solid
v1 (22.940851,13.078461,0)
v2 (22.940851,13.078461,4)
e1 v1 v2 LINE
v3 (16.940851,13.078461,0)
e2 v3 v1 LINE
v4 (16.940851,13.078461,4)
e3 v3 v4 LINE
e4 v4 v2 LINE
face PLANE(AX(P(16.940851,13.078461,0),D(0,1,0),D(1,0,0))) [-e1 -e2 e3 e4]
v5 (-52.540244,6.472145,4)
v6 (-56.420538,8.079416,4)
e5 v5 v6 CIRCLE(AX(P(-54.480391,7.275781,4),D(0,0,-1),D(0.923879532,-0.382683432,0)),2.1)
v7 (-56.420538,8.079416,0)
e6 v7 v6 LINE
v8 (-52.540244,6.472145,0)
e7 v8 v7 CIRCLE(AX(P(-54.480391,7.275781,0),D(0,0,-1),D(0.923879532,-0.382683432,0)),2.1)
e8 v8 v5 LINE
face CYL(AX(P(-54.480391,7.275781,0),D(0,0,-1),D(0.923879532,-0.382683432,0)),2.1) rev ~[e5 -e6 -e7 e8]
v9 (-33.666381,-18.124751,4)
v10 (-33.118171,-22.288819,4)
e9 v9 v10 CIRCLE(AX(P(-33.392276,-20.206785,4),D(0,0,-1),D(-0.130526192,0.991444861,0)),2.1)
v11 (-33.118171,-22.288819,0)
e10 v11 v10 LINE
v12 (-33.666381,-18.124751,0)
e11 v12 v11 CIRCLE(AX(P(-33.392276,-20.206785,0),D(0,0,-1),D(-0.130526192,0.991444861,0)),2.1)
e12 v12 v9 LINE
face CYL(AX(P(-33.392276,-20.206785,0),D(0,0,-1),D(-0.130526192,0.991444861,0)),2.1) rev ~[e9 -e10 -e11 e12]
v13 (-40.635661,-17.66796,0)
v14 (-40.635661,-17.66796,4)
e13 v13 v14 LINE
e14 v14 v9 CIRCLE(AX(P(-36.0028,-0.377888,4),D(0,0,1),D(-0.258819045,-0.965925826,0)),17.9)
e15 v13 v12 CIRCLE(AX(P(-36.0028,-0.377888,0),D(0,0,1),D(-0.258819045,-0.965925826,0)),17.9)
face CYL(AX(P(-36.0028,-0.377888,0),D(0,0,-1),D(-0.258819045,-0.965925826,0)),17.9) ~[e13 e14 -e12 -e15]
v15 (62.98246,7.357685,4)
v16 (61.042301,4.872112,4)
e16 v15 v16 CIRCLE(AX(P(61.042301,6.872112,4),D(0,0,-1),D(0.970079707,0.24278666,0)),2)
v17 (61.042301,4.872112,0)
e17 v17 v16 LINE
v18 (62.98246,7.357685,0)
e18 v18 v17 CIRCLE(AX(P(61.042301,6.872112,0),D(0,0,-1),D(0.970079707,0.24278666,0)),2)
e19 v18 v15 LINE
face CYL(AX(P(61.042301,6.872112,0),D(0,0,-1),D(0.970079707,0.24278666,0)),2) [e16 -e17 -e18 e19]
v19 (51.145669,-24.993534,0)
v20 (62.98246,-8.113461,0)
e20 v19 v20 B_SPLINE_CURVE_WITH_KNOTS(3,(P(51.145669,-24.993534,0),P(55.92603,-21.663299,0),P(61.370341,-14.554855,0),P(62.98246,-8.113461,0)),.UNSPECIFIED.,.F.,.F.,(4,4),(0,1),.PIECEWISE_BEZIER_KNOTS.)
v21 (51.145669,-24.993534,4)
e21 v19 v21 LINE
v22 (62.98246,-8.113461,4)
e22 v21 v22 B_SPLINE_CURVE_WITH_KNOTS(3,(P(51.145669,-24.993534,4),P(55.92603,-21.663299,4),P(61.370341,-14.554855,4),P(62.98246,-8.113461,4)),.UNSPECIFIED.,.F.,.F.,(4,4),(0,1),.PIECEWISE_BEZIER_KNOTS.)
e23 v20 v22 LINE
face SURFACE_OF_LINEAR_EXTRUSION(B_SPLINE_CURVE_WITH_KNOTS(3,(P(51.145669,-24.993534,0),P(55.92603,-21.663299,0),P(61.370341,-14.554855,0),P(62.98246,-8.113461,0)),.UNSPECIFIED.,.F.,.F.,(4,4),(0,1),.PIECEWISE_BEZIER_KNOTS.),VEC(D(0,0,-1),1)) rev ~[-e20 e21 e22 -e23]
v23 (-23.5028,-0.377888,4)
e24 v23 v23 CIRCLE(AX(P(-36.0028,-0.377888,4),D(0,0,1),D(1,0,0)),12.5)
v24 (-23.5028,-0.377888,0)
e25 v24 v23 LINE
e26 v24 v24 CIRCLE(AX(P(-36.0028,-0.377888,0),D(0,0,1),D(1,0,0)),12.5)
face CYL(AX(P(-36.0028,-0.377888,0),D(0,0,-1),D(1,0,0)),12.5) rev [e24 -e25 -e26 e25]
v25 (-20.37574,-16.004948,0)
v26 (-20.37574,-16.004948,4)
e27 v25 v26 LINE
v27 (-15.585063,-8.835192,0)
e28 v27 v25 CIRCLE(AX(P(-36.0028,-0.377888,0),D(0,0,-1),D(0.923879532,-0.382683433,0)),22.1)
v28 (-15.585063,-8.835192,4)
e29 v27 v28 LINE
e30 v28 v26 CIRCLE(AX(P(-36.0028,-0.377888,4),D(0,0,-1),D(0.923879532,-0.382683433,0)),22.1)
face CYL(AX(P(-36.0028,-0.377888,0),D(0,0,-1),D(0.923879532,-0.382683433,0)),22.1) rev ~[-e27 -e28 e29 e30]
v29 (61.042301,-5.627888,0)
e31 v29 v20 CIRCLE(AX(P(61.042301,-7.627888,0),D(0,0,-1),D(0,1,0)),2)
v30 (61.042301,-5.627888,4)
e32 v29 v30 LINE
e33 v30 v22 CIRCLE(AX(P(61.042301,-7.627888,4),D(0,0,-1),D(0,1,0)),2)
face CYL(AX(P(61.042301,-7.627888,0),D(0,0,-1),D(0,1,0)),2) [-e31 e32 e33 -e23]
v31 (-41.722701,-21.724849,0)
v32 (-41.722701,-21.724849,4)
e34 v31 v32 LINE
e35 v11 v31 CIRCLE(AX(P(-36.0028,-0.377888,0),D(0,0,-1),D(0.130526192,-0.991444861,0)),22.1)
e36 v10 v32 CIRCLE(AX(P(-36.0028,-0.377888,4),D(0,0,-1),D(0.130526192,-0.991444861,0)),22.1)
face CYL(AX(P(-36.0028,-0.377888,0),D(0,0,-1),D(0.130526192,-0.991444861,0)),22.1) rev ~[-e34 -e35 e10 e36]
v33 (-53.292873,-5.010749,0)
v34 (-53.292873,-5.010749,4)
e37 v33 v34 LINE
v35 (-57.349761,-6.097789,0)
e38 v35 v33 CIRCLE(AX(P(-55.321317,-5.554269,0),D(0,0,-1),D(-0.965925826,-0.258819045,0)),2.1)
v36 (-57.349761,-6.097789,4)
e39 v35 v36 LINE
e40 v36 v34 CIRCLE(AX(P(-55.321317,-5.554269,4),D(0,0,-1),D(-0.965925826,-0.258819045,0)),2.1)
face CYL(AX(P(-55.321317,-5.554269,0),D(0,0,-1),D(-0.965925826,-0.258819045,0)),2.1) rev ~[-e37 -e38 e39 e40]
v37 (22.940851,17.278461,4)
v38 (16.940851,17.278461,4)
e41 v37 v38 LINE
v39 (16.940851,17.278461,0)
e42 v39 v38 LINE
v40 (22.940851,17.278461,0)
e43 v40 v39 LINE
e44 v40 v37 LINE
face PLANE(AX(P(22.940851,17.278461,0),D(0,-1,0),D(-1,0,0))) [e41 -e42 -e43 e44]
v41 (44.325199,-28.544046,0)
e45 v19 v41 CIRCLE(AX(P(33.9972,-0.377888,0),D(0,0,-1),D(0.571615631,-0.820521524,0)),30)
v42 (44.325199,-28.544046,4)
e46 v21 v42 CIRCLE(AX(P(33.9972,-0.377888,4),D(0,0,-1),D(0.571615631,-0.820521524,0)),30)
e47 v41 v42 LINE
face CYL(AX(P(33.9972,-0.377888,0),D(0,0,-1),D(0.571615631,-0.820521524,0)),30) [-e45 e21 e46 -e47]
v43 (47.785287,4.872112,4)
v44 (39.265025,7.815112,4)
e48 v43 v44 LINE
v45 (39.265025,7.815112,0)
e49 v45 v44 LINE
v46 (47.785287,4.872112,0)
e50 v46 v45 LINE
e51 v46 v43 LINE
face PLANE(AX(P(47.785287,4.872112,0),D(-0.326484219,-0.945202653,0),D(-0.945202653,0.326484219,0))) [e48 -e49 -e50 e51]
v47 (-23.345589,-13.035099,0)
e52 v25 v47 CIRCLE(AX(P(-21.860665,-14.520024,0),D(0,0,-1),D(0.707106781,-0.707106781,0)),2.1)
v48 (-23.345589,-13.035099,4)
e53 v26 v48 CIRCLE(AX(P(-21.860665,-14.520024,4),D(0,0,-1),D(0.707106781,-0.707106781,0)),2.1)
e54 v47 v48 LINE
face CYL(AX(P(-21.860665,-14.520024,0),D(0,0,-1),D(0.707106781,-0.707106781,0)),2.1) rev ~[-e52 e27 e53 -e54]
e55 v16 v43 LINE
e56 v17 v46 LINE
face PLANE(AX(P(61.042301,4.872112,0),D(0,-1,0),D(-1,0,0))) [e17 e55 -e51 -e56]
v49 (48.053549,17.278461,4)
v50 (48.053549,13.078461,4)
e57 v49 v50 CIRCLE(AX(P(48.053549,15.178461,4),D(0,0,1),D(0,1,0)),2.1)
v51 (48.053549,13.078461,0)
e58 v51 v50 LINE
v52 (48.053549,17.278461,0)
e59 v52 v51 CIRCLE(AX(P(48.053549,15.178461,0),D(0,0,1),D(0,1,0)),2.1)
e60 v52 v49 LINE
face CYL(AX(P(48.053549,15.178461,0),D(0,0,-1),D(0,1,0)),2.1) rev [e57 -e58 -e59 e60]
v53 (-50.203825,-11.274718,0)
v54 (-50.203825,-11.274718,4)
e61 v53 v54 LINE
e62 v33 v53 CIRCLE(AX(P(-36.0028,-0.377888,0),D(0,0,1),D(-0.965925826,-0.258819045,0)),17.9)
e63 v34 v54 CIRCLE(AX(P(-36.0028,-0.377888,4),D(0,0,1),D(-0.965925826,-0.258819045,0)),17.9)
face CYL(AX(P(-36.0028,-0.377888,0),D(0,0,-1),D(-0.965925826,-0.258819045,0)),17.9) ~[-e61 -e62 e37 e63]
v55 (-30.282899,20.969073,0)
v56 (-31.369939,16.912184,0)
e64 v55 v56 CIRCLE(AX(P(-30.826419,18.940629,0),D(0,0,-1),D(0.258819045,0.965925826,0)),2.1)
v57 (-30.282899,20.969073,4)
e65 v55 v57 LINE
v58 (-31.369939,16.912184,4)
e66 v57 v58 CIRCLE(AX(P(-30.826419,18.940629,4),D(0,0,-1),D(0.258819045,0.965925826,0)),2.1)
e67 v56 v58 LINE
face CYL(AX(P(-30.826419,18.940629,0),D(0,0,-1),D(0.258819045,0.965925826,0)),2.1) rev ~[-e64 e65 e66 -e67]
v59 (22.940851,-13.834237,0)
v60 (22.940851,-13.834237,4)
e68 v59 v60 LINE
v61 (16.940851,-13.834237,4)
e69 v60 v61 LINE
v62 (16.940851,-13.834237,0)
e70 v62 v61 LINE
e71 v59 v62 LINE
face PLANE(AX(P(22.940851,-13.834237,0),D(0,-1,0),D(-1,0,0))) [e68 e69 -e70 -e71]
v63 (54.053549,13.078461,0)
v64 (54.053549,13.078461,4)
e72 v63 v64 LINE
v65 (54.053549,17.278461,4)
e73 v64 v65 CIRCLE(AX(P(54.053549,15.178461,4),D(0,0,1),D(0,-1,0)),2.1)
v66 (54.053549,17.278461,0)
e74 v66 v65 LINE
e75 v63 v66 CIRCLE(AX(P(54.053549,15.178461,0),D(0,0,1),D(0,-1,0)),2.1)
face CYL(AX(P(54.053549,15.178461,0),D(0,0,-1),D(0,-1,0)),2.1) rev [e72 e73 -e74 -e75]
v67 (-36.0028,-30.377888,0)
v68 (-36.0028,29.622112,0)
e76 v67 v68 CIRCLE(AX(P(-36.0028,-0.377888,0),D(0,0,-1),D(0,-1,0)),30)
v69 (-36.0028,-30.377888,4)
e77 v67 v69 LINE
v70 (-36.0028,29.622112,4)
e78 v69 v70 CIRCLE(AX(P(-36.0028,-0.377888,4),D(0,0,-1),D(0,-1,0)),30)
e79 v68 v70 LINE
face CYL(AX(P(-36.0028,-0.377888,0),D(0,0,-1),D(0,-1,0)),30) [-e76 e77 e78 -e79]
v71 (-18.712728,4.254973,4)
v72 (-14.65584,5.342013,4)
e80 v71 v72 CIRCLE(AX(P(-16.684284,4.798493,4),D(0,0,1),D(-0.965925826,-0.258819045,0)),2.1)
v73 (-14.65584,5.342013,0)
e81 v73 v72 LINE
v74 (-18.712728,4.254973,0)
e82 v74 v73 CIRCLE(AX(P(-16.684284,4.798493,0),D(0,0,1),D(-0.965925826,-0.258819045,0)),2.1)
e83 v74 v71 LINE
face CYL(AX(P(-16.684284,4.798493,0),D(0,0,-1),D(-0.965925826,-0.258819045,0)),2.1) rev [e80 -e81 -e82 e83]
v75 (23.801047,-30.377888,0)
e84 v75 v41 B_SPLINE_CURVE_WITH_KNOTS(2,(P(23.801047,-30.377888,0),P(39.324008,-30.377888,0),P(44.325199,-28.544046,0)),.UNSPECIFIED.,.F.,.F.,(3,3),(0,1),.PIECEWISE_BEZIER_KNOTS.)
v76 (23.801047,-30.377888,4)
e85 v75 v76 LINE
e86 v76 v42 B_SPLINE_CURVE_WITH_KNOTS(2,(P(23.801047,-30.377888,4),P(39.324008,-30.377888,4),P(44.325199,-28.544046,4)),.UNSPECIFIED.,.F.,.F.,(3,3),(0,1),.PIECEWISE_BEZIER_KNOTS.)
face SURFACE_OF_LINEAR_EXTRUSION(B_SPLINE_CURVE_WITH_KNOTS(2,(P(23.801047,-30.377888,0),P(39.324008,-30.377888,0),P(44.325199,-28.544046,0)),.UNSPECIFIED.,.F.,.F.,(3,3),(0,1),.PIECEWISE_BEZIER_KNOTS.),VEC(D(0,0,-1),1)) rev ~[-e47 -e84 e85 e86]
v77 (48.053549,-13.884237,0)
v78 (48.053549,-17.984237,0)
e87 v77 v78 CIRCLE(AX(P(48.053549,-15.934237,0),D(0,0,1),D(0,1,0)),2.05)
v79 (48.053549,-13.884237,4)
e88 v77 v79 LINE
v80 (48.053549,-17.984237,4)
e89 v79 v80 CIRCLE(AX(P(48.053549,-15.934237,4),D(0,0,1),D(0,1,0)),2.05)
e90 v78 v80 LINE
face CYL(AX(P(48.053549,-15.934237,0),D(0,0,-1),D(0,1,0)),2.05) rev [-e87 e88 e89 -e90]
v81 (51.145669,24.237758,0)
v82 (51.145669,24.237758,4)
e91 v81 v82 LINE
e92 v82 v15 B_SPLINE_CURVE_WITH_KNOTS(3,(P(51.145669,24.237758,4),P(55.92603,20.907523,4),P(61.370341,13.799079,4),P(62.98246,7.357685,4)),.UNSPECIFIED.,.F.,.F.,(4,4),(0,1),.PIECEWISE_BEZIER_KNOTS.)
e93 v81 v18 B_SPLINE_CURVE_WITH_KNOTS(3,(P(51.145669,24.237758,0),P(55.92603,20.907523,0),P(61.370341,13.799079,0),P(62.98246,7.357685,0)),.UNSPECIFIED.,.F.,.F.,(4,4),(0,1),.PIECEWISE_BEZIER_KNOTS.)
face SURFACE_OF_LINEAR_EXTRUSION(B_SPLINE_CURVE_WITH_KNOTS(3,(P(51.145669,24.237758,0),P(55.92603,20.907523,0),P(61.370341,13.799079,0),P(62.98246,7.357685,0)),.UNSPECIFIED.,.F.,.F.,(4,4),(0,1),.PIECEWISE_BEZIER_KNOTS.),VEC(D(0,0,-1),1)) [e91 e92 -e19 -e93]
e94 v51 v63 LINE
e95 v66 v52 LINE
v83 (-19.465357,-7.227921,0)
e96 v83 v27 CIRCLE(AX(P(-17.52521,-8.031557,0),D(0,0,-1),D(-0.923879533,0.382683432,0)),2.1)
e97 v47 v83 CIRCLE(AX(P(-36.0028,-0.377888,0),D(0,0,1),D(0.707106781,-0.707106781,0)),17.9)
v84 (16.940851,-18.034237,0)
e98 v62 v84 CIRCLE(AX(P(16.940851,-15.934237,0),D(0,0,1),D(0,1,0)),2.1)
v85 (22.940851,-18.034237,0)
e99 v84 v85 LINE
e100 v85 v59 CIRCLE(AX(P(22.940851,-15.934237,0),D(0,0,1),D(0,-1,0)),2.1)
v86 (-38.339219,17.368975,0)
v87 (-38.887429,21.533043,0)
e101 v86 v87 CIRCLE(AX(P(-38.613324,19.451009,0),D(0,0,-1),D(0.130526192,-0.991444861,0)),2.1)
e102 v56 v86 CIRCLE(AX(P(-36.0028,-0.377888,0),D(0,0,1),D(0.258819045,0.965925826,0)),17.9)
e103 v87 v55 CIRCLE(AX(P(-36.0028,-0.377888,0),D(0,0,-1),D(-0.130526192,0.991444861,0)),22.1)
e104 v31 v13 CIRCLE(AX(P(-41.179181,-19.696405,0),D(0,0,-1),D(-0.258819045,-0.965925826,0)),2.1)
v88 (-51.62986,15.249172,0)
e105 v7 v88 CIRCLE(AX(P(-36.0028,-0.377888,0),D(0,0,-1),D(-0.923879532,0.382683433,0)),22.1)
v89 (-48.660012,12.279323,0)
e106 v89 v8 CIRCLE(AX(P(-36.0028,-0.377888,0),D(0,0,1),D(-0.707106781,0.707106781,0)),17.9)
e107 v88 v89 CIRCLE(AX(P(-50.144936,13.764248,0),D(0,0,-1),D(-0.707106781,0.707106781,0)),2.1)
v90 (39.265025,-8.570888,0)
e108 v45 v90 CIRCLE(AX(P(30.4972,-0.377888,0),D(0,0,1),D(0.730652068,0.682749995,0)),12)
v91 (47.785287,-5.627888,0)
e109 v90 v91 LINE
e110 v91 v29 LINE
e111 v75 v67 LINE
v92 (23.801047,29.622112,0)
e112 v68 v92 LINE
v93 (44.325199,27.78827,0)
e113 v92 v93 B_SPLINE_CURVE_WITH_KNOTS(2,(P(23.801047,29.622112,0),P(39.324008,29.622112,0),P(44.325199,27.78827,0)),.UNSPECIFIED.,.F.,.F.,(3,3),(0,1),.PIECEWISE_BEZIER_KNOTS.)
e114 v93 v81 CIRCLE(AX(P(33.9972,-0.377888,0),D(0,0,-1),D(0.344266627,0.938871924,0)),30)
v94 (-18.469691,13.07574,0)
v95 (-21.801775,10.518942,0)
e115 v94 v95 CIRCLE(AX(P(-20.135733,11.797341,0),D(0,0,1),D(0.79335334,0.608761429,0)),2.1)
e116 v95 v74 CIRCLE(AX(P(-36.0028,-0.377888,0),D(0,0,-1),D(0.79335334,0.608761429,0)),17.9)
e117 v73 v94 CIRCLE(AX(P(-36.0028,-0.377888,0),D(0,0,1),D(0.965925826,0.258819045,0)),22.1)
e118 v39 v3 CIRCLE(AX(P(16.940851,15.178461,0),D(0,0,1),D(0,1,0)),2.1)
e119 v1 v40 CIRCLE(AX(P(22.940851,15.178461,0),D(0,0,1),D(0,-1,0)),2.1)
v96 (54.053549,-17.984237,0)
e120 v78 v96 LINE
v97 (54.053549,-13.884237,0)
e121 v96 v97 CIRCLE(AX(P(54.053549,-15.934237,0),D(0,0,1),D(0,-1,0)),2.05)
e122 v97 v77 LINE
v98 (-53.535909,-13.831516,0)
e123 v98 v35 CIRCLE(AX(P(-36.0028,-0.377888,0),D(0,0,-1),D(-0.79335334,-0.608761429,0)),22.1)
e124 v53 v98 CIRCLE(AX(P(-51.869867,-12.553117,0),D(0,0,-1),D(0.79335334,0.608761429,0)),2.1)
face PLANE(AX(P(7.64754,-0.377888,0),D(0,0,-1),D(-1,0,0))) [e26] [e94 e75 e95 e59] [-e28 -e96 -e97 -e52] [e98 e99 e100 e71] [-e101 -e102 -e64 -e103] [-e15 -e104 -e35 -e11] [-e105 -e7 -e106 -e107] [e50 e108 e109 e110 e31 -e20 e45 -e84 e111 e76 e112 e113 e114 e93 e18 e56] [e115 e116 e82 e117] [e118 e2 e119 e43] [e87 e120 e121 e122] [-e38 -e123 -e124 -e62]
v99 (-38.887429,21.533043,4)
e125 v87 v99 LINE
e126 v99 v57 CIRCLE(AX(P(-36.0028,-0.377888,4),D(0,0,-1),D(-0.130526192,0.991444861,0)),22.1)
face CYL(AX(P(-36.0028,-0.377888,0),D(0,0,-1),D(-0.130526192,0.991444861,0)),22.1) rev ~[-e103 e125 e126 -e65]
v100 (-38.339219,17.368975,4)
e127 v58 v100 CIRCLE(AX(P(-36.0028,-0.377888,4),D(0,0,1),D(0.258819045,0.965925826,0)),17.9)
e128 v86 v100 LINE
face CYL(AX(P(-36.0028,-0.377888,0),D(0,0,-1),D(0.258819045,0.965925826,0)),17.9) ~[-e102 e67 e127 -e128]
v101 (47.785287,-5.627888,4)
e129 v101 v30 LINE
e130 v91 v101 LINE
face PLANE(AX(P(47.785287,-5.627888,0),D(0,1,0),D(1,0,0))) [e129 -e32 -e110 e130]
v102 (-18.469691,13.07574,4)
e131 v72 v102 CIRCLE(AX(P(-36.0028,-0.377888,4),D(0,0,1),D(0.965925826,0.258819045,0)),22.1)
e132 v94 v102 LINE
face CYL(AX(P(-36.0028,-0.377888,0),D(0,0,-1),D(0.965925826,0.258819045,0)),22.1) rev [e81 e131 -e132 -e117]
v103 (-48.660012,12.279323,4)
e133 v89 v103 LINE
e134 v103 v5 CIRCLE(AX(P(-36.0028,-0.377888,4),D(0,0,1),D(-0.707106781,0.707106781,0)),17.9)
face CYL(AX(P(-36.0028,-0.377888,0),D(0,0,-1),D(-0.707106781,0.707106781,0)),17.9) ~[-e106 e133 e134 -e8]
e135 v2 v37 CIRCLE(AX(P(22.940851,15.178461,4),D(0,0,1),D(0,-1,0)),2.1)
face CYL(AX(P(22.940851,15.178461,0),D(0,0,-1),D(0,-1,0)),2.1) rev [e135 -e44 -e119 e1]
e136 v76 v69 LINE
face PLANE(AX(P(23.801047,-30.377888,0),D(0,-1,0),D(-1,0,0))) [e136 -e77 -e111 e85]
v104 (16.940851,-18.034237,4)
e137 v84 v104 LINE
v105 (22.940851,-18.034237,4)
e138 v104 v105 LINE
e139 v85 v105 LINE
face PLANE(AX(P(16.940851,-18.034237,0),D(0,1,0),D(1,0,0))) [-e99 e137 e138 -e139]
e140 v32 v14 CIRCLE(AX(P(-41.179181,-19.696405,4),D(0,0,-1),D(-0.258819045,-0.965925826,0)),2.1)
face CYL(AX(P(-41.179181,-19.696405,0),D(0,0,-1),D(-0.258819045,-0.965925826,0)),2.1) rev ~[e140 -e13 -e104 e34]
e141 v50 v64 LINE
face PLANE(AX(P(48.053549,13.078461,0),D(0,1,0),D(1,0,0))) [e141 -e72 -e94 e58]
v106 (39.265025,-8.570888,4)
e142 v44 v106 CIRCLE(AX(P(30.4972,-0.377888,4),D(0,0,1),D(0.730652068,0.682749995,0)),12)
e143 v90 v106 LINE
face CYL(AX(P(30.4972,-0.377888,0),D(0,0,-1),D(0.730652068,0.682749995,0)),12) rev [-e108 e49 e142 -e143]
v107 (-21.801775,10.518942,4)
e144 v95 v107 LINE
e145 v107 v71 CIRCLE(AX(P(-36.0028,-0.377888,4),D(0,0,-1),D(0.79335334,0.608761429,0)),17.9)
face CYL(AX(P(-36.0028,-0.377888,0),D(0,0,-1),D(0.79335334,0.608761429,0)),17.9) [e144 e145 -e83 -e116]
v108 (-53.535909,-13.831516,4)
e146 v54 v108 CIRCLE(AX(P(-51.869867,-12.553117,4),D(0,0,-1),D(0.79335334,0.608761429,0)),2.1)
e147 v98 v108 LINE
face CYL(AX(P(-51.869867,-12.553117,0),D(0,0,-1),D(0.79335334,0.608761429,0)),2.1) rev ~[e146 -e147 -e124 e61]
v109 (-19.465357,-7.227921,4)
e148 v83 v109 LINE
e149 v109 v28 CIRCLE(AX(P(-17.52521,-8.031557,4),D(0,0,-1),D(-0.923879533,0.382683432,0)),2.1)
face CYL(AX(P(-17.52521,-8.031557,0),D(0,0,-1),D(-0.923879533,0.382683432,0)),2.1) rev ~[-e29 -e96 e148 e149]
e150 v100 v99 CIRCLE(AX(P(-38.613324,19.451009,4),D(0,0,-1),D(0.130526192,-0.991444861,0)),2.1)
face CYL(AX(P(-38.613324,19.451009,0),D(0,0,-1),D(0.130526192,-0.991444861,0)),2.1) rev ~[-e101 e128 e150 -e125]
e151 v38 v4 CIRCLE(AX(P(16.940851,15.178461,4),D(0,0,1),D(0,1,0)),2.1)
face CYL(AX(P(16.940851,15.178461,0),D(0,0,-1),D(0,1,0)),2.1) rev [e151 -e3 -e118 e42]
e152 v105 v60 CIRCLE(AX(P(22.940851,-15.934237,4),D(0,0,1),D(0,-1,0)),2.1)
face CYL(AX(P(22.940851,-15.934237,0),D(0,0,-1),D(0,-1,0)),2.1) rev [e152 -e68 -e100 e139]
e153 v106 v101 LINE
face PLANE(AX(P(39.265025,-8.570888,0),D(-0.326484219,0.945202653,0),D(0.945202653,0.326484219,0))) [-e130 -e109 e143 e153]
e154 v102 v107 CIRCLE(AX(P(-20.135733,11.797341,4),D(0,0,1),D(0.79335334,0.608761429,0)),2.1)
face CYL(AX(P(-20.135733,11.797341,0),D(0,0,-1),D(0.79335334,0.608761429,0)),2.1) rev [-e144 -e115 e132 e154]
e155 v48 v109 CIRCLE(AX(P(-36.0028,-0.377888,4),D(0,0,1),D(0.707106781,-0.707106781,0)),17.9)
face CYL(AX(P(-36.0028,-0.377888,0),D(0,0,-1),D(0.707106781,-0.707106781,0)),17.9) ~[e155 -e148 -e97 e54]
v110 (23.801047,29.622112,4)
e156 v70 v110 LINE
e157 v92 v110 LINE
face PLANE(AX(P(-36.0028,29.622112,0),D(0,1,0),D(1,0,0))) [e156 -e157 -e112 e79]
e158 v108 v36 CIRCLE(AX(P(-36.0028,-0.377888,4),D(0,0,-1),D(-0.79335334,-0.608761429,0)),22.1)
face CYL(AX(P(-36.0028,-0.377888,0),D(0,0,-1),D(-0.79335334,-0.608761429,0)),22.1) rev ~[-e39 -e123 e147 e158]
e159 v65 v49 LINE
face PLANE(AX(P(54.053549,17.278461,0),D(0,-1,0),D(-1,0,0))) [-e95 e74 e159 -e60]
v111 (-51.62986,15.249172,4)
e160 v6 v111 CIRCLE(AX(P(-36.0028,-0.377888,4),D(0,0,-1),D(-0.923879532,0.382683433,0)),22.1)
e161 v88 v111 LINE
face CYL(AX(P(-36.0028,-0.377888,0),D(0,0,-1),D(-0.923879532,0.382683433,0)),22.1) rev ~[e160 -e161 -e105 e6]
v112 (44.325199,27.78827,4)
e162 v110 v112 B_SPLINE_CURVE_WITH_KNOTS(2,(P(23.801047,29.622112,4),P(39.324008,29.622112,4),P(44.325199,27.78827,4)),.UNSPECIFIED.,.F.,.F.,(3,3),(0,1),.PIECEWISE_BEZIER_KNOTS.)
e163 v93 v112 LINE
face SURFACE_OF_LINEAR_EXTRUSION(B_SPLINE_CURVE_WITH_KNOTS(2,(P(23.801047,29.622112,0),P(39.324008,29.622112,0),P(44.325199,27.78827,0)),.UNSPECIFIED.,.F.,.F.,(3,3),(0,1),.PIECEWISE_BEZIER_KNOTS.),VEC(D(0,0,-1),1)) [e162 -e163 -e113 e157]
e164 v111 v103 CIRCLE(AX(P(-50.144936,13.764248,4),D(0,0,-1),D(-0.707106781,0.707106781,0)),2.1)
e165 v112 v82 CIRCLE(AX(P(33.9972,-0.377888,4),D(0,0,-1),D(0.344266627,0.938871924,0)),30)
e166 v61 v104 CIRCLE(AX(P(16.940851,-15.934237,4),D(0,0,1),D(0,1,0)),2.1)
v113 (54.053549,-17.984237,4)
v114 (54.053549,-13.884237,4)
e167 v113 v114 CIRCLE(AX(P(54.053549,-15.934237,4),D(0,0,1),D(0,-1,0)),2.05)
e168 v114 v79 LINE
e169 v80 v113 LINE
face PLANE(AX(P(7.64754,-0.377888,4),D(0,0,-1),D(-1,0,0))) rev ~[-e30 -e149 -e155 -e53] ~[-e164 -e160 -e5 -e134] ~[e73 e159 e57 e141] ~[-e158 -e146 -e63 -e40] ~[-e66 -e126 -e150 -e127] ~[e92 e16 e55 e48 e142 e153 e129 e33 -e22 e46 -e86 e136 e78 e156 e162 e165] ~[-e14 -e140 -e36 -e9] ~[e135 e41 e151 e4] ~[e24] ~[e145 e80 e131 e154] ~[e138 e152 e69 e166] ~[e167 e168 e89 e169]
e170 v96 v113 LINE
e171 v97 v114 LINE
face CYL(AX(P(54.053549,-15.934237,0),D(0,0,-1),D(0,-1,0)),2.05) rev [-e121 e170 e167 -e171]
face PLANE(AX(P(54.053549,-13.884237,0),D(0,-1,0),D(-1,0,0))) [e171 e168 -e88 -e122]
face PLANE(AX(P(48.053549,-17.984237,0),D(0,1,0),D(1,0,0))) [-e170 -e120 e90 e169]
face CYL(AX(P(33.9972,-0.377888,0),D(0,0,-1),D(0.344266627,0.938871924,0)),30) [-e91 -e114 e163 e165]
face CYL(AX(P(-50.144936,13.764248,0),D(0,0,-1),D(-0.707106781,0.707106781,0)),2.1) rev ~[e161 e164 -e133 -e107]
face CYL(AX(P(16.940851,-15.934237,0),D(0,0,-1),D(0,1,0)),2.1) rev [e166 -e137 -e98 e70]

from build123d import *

# Parameters (mm, degrees)
SKIZZE2_R                       = 12.5
AUFSATZ_LINEAR_AUSTRAGEN2_DEPTH = 4


with BuildPart() as part:
    # Skizze2 → Aufsatz-Linear austragen2 (new body)
    with BuildSketch(Plane.XY):
        with BuildLine():
            Line((-36.002800277, 29.622112019), (23.801047301, 29.622112019))
            add(Edge.make_bspline(
                [(23.801047301, 29.622112019), (39.324007896, 29.622112019), (44.325198534, 27.788269736)],
                knots=[0, 0, 0, 1, 1, 1], degree=2))
            ThreePointArc((44.325198534, 27.788269736), (47.84965812, 26.232437014), (51.145668645, 24.237757727))
            add(Edge.make_bspline(
                [(51.145668645, 24.237757727), (55.926029521, 20.907523335), (61.370340825, 13.799078949), (62.982460357, 7.357685339)],
                knots=[0, 0, 0, 0, 1, 1, 1, 1], degree=3))
            ThreePointArc((62.982460357, 7.357685339), (62.618871056, 5.641491574), (61.042300943, 4.872112019))
            Line((61.042300943, 4.872112019), (47.785287356, 4.872112019))
            Line((47.785287356, 4.872112019), (39.265024534, 7.815111963))
            ThreePointArc((39.265024534, 7.815111963), (18.497199723, -0.377887981), (39.265024534, -8.570887926))
            Line((39.265024534, -8.570887926), (47.785287356, -5.627887981))
            Line((47.785287356, -5.627887981), (61.042300943, -5.627887981))
            ThreePointArc((61.042300943, -5.627887981), (62.618871056, -6.397267536), (62.982460357, -8.113461302))
            add(Edge.make_bspline(
                [(51.145668645, -24.99353369), (55.926029521, -21.663299298), (61.370340825, -14.554854912), (62.982460357, -8.113461302)],
                knots=[0, 0, 0, 0, 1, 1, 1, 1], degree=3))
            ThreePointArc((51.145668645, -24.99353369), (47.84965812, -26.988212977), (44.325198534, -28.544045699))
            add(Edge.make_bspline(
                [(23.801047301, -30.377887981), (39.324007896, -30.377887981), (44.325198534, -28.544045699)],
                knots=[0, 0, 0, 1, 1, 1], degree=2))
            Line((23.801047301, -30.377887981), (-36.002800277, -30.377887981))
            ThreePointArc((-36.002800277, -30.377887981), (-66.002800277, -0.377887981), (-36.002800277, 29.622112019))
        make_face()
        with Locations((-36.002800277, -0.377887981)):
            Circle(SKIZZE2_R, mode=Mode.SUBTRACT)
        with BuildLine():
            Line((22.940850537, 17.278461205), (16.940850537, 17.278461205))
            ThreePointArc((16.940850537, 17.278461205), (14.840850537, 15.178461205), (16.940850537, 13.078461205))
            Line((16.940850537, 13.078461205), (22.940850537, 13.078461205))
            ThreePointArc((22.940850537, 13.078461205), (25.040850537, 15.178461205), (22.940850537, 17.278461205))
        make_face(mode=Mode.SUBTRACT)
        with BuildLine():
            Line((48.05354891, 13.078461205), (54.05354891, 13.078461205))
            ThreePointArc((54.05354891, 13.078461205), (56.15354891, 15.178461205), (54.05354891, 17.278461205))
            Line((54.05354891, 17.278461205), (48.05354891, 17.278461205))
            ThreePointArc((48.05354891, 17.278461205), (45.95354891, 15.178461205), (48.05354891, 13.078461205))
        make_face(mode=Mode.SUBTRACT)
        with BuildLine():
            Line((48.05354891, -17.984237167), (54.05354891, -17.984237167))
            ThreePointArc((54.05354891, -17.984237167), (56.10354891, -15.934237167), (54.05354891, -13.884237167))
            Line((54.05354891, -13.884237167), (48.05354891, -13.884237167))
            ThreePointArc((48.05354891, -13.884237167), (46.00354891, -15.934237167), (48.05354891, -17.984237167))
        make_face(mode=Mode.SUBTRACT)
        with BuildLine():
            Line((22.940850537, -13.834237167), (16.940850537, -13.834237167))
            ThreePointArc((16.940850537, -13.834237167), (14.840850537, -15.934237167), (16.940850537, -18.034237167))
            Line((16.940850537, -18.034237167), (22.940850537, -18.034237167))
            ThreePointArc((22.940850537, -18.034237167), (25.040850537, -15.934237167), (22.940850537, -13.834237167))
        make_face(mode=Mode.SUBTRACT)
        with BuildLine():
            ThreePointArc((-23.345588893, -13.035099365), (-21.119494216, -10.322595152), (-19.465356645, -7.227921421))
            ThreePointArc((-19.465356645, -7.227921421), (-16.721574418, -6.09140961), (-15.585062608, -8.835191837))
            ThreePointArc((-15.585062608, -8.835191837), (-17.627321845, -12.655990131), (-20.375740412, -16.004947846))
            ThreePointArc((-20.375740412, -16.004947846), (-23.345588893, -16.004947846), (-23.345588893, -13.035099365))
        make_face(mode=Mode.SUBTRACT)
        with BuildLine():
            ThreePointArc((-40.635661184, -17.667960272), (-37.17351629, -18.239562707), (-33.666381436, -18.124751))
            ThreePointArc((-33.666381436, -18.124751), (-31.310242223, -19.932680205), (-33.118171429, -22.288819418))
            ThreePointArc((-33.118171429, -22.288819418), (-37.448209433, -22.430570185), (-41.722701173, -21.724848742))
            ThreePointArc((-41.722701173, -21.724848742), (-43.207625414, -19.152884512), (-40.635661184, -17.667960272))
        make_face(mode=Mode.SUBTRACT)
        with BuildLine():
            ThreePointArc((-53.292872567, -5.010748889), (-52.05682235, -8.294855536), (-50.203825068, -11.274717561))
            ThreePointArc((-50.203825068, -11.274717561), (-50.591468081, -14.219158576), (-53.535909097, -13.831515562))
            ThreePointArc((-53.535909097, -13.831515562), (-55.823687864, -10.152468035), (-57.349761038, -6.097788878))
            ThreePointArc((-57.349761038, -6.097788878), (-55.864836797, -3.525824648), (-53.292872567, -5.010748889))
        make_face(mode=Mode.SUBTRACT)
        with BuildLine():
            ThreePointArc((-48.66001166, 12.279323402), (-50.886106337, 9.56681919), (-52.540243909, 6.472145458))
            ThreePointArc((-52.540243909, 6.472145458), (-55.284026135, 5.335633648), (-56.420537945, 8.079415874))
            ThreePointArc((-56.420537945, 8.079415874), (-54.378278708, 11.900214168), (-51.629860141, 15.249171883))
            ThreePointArc((-51.629860141, 15.249171883), (-48.66001166, 15.249171883), (-48.66001166, 12.279323402))
        make_face(mode=Mode.SUBTRACT)
        with BuildLine():
            ThreePointArc((-31.369939369, 16.912184309), (-34.832084263, 17.483786745), (-38.339219117, 17.368975037))
            ThreePointArc((-38.339219117, 17.368975037), (-40.69535833, 19.176904242), (-38.887429125, 21.533043455))
            ThreePointArc((-38.887429125, 21.533043455), (-34.557391121, 21.674794222), (-30.28289938, 20.96907278))
            ThreePointArc((-30.28289938, 20.96907278), (-28.797975139, 18.39710855), (-31.369939369, 16.912184309))
        make_face(mode=Mode.SUBTRACT)
        with BuildLine():
            ThreePointArc((-18.712727986, 4.254972926), (-16.140763756, 2.770048686), (-14.655839516, 5.342012915))
            ThreePointArc((-14.655839516, 5.342012915), (-16.181912689, 9.396692073), (-18.469691456, 13.0757396))
            ThreePointArc((-18.469691456, 13.0757396), (-21.414132472, 13.463382613), (-21.801775485, 10.518941598))
            ThreePointArc((-21.801775485, 10.518941598), (-19.948778203, 7.539079574), (-18.712727986, 4.254972926))
        make_face(mode=Mode.SUBTRACT)
    extrude(amount=AUFSATZ_LINEAR_AUSTRAGEN2_DEPTH)


solid = part.part
